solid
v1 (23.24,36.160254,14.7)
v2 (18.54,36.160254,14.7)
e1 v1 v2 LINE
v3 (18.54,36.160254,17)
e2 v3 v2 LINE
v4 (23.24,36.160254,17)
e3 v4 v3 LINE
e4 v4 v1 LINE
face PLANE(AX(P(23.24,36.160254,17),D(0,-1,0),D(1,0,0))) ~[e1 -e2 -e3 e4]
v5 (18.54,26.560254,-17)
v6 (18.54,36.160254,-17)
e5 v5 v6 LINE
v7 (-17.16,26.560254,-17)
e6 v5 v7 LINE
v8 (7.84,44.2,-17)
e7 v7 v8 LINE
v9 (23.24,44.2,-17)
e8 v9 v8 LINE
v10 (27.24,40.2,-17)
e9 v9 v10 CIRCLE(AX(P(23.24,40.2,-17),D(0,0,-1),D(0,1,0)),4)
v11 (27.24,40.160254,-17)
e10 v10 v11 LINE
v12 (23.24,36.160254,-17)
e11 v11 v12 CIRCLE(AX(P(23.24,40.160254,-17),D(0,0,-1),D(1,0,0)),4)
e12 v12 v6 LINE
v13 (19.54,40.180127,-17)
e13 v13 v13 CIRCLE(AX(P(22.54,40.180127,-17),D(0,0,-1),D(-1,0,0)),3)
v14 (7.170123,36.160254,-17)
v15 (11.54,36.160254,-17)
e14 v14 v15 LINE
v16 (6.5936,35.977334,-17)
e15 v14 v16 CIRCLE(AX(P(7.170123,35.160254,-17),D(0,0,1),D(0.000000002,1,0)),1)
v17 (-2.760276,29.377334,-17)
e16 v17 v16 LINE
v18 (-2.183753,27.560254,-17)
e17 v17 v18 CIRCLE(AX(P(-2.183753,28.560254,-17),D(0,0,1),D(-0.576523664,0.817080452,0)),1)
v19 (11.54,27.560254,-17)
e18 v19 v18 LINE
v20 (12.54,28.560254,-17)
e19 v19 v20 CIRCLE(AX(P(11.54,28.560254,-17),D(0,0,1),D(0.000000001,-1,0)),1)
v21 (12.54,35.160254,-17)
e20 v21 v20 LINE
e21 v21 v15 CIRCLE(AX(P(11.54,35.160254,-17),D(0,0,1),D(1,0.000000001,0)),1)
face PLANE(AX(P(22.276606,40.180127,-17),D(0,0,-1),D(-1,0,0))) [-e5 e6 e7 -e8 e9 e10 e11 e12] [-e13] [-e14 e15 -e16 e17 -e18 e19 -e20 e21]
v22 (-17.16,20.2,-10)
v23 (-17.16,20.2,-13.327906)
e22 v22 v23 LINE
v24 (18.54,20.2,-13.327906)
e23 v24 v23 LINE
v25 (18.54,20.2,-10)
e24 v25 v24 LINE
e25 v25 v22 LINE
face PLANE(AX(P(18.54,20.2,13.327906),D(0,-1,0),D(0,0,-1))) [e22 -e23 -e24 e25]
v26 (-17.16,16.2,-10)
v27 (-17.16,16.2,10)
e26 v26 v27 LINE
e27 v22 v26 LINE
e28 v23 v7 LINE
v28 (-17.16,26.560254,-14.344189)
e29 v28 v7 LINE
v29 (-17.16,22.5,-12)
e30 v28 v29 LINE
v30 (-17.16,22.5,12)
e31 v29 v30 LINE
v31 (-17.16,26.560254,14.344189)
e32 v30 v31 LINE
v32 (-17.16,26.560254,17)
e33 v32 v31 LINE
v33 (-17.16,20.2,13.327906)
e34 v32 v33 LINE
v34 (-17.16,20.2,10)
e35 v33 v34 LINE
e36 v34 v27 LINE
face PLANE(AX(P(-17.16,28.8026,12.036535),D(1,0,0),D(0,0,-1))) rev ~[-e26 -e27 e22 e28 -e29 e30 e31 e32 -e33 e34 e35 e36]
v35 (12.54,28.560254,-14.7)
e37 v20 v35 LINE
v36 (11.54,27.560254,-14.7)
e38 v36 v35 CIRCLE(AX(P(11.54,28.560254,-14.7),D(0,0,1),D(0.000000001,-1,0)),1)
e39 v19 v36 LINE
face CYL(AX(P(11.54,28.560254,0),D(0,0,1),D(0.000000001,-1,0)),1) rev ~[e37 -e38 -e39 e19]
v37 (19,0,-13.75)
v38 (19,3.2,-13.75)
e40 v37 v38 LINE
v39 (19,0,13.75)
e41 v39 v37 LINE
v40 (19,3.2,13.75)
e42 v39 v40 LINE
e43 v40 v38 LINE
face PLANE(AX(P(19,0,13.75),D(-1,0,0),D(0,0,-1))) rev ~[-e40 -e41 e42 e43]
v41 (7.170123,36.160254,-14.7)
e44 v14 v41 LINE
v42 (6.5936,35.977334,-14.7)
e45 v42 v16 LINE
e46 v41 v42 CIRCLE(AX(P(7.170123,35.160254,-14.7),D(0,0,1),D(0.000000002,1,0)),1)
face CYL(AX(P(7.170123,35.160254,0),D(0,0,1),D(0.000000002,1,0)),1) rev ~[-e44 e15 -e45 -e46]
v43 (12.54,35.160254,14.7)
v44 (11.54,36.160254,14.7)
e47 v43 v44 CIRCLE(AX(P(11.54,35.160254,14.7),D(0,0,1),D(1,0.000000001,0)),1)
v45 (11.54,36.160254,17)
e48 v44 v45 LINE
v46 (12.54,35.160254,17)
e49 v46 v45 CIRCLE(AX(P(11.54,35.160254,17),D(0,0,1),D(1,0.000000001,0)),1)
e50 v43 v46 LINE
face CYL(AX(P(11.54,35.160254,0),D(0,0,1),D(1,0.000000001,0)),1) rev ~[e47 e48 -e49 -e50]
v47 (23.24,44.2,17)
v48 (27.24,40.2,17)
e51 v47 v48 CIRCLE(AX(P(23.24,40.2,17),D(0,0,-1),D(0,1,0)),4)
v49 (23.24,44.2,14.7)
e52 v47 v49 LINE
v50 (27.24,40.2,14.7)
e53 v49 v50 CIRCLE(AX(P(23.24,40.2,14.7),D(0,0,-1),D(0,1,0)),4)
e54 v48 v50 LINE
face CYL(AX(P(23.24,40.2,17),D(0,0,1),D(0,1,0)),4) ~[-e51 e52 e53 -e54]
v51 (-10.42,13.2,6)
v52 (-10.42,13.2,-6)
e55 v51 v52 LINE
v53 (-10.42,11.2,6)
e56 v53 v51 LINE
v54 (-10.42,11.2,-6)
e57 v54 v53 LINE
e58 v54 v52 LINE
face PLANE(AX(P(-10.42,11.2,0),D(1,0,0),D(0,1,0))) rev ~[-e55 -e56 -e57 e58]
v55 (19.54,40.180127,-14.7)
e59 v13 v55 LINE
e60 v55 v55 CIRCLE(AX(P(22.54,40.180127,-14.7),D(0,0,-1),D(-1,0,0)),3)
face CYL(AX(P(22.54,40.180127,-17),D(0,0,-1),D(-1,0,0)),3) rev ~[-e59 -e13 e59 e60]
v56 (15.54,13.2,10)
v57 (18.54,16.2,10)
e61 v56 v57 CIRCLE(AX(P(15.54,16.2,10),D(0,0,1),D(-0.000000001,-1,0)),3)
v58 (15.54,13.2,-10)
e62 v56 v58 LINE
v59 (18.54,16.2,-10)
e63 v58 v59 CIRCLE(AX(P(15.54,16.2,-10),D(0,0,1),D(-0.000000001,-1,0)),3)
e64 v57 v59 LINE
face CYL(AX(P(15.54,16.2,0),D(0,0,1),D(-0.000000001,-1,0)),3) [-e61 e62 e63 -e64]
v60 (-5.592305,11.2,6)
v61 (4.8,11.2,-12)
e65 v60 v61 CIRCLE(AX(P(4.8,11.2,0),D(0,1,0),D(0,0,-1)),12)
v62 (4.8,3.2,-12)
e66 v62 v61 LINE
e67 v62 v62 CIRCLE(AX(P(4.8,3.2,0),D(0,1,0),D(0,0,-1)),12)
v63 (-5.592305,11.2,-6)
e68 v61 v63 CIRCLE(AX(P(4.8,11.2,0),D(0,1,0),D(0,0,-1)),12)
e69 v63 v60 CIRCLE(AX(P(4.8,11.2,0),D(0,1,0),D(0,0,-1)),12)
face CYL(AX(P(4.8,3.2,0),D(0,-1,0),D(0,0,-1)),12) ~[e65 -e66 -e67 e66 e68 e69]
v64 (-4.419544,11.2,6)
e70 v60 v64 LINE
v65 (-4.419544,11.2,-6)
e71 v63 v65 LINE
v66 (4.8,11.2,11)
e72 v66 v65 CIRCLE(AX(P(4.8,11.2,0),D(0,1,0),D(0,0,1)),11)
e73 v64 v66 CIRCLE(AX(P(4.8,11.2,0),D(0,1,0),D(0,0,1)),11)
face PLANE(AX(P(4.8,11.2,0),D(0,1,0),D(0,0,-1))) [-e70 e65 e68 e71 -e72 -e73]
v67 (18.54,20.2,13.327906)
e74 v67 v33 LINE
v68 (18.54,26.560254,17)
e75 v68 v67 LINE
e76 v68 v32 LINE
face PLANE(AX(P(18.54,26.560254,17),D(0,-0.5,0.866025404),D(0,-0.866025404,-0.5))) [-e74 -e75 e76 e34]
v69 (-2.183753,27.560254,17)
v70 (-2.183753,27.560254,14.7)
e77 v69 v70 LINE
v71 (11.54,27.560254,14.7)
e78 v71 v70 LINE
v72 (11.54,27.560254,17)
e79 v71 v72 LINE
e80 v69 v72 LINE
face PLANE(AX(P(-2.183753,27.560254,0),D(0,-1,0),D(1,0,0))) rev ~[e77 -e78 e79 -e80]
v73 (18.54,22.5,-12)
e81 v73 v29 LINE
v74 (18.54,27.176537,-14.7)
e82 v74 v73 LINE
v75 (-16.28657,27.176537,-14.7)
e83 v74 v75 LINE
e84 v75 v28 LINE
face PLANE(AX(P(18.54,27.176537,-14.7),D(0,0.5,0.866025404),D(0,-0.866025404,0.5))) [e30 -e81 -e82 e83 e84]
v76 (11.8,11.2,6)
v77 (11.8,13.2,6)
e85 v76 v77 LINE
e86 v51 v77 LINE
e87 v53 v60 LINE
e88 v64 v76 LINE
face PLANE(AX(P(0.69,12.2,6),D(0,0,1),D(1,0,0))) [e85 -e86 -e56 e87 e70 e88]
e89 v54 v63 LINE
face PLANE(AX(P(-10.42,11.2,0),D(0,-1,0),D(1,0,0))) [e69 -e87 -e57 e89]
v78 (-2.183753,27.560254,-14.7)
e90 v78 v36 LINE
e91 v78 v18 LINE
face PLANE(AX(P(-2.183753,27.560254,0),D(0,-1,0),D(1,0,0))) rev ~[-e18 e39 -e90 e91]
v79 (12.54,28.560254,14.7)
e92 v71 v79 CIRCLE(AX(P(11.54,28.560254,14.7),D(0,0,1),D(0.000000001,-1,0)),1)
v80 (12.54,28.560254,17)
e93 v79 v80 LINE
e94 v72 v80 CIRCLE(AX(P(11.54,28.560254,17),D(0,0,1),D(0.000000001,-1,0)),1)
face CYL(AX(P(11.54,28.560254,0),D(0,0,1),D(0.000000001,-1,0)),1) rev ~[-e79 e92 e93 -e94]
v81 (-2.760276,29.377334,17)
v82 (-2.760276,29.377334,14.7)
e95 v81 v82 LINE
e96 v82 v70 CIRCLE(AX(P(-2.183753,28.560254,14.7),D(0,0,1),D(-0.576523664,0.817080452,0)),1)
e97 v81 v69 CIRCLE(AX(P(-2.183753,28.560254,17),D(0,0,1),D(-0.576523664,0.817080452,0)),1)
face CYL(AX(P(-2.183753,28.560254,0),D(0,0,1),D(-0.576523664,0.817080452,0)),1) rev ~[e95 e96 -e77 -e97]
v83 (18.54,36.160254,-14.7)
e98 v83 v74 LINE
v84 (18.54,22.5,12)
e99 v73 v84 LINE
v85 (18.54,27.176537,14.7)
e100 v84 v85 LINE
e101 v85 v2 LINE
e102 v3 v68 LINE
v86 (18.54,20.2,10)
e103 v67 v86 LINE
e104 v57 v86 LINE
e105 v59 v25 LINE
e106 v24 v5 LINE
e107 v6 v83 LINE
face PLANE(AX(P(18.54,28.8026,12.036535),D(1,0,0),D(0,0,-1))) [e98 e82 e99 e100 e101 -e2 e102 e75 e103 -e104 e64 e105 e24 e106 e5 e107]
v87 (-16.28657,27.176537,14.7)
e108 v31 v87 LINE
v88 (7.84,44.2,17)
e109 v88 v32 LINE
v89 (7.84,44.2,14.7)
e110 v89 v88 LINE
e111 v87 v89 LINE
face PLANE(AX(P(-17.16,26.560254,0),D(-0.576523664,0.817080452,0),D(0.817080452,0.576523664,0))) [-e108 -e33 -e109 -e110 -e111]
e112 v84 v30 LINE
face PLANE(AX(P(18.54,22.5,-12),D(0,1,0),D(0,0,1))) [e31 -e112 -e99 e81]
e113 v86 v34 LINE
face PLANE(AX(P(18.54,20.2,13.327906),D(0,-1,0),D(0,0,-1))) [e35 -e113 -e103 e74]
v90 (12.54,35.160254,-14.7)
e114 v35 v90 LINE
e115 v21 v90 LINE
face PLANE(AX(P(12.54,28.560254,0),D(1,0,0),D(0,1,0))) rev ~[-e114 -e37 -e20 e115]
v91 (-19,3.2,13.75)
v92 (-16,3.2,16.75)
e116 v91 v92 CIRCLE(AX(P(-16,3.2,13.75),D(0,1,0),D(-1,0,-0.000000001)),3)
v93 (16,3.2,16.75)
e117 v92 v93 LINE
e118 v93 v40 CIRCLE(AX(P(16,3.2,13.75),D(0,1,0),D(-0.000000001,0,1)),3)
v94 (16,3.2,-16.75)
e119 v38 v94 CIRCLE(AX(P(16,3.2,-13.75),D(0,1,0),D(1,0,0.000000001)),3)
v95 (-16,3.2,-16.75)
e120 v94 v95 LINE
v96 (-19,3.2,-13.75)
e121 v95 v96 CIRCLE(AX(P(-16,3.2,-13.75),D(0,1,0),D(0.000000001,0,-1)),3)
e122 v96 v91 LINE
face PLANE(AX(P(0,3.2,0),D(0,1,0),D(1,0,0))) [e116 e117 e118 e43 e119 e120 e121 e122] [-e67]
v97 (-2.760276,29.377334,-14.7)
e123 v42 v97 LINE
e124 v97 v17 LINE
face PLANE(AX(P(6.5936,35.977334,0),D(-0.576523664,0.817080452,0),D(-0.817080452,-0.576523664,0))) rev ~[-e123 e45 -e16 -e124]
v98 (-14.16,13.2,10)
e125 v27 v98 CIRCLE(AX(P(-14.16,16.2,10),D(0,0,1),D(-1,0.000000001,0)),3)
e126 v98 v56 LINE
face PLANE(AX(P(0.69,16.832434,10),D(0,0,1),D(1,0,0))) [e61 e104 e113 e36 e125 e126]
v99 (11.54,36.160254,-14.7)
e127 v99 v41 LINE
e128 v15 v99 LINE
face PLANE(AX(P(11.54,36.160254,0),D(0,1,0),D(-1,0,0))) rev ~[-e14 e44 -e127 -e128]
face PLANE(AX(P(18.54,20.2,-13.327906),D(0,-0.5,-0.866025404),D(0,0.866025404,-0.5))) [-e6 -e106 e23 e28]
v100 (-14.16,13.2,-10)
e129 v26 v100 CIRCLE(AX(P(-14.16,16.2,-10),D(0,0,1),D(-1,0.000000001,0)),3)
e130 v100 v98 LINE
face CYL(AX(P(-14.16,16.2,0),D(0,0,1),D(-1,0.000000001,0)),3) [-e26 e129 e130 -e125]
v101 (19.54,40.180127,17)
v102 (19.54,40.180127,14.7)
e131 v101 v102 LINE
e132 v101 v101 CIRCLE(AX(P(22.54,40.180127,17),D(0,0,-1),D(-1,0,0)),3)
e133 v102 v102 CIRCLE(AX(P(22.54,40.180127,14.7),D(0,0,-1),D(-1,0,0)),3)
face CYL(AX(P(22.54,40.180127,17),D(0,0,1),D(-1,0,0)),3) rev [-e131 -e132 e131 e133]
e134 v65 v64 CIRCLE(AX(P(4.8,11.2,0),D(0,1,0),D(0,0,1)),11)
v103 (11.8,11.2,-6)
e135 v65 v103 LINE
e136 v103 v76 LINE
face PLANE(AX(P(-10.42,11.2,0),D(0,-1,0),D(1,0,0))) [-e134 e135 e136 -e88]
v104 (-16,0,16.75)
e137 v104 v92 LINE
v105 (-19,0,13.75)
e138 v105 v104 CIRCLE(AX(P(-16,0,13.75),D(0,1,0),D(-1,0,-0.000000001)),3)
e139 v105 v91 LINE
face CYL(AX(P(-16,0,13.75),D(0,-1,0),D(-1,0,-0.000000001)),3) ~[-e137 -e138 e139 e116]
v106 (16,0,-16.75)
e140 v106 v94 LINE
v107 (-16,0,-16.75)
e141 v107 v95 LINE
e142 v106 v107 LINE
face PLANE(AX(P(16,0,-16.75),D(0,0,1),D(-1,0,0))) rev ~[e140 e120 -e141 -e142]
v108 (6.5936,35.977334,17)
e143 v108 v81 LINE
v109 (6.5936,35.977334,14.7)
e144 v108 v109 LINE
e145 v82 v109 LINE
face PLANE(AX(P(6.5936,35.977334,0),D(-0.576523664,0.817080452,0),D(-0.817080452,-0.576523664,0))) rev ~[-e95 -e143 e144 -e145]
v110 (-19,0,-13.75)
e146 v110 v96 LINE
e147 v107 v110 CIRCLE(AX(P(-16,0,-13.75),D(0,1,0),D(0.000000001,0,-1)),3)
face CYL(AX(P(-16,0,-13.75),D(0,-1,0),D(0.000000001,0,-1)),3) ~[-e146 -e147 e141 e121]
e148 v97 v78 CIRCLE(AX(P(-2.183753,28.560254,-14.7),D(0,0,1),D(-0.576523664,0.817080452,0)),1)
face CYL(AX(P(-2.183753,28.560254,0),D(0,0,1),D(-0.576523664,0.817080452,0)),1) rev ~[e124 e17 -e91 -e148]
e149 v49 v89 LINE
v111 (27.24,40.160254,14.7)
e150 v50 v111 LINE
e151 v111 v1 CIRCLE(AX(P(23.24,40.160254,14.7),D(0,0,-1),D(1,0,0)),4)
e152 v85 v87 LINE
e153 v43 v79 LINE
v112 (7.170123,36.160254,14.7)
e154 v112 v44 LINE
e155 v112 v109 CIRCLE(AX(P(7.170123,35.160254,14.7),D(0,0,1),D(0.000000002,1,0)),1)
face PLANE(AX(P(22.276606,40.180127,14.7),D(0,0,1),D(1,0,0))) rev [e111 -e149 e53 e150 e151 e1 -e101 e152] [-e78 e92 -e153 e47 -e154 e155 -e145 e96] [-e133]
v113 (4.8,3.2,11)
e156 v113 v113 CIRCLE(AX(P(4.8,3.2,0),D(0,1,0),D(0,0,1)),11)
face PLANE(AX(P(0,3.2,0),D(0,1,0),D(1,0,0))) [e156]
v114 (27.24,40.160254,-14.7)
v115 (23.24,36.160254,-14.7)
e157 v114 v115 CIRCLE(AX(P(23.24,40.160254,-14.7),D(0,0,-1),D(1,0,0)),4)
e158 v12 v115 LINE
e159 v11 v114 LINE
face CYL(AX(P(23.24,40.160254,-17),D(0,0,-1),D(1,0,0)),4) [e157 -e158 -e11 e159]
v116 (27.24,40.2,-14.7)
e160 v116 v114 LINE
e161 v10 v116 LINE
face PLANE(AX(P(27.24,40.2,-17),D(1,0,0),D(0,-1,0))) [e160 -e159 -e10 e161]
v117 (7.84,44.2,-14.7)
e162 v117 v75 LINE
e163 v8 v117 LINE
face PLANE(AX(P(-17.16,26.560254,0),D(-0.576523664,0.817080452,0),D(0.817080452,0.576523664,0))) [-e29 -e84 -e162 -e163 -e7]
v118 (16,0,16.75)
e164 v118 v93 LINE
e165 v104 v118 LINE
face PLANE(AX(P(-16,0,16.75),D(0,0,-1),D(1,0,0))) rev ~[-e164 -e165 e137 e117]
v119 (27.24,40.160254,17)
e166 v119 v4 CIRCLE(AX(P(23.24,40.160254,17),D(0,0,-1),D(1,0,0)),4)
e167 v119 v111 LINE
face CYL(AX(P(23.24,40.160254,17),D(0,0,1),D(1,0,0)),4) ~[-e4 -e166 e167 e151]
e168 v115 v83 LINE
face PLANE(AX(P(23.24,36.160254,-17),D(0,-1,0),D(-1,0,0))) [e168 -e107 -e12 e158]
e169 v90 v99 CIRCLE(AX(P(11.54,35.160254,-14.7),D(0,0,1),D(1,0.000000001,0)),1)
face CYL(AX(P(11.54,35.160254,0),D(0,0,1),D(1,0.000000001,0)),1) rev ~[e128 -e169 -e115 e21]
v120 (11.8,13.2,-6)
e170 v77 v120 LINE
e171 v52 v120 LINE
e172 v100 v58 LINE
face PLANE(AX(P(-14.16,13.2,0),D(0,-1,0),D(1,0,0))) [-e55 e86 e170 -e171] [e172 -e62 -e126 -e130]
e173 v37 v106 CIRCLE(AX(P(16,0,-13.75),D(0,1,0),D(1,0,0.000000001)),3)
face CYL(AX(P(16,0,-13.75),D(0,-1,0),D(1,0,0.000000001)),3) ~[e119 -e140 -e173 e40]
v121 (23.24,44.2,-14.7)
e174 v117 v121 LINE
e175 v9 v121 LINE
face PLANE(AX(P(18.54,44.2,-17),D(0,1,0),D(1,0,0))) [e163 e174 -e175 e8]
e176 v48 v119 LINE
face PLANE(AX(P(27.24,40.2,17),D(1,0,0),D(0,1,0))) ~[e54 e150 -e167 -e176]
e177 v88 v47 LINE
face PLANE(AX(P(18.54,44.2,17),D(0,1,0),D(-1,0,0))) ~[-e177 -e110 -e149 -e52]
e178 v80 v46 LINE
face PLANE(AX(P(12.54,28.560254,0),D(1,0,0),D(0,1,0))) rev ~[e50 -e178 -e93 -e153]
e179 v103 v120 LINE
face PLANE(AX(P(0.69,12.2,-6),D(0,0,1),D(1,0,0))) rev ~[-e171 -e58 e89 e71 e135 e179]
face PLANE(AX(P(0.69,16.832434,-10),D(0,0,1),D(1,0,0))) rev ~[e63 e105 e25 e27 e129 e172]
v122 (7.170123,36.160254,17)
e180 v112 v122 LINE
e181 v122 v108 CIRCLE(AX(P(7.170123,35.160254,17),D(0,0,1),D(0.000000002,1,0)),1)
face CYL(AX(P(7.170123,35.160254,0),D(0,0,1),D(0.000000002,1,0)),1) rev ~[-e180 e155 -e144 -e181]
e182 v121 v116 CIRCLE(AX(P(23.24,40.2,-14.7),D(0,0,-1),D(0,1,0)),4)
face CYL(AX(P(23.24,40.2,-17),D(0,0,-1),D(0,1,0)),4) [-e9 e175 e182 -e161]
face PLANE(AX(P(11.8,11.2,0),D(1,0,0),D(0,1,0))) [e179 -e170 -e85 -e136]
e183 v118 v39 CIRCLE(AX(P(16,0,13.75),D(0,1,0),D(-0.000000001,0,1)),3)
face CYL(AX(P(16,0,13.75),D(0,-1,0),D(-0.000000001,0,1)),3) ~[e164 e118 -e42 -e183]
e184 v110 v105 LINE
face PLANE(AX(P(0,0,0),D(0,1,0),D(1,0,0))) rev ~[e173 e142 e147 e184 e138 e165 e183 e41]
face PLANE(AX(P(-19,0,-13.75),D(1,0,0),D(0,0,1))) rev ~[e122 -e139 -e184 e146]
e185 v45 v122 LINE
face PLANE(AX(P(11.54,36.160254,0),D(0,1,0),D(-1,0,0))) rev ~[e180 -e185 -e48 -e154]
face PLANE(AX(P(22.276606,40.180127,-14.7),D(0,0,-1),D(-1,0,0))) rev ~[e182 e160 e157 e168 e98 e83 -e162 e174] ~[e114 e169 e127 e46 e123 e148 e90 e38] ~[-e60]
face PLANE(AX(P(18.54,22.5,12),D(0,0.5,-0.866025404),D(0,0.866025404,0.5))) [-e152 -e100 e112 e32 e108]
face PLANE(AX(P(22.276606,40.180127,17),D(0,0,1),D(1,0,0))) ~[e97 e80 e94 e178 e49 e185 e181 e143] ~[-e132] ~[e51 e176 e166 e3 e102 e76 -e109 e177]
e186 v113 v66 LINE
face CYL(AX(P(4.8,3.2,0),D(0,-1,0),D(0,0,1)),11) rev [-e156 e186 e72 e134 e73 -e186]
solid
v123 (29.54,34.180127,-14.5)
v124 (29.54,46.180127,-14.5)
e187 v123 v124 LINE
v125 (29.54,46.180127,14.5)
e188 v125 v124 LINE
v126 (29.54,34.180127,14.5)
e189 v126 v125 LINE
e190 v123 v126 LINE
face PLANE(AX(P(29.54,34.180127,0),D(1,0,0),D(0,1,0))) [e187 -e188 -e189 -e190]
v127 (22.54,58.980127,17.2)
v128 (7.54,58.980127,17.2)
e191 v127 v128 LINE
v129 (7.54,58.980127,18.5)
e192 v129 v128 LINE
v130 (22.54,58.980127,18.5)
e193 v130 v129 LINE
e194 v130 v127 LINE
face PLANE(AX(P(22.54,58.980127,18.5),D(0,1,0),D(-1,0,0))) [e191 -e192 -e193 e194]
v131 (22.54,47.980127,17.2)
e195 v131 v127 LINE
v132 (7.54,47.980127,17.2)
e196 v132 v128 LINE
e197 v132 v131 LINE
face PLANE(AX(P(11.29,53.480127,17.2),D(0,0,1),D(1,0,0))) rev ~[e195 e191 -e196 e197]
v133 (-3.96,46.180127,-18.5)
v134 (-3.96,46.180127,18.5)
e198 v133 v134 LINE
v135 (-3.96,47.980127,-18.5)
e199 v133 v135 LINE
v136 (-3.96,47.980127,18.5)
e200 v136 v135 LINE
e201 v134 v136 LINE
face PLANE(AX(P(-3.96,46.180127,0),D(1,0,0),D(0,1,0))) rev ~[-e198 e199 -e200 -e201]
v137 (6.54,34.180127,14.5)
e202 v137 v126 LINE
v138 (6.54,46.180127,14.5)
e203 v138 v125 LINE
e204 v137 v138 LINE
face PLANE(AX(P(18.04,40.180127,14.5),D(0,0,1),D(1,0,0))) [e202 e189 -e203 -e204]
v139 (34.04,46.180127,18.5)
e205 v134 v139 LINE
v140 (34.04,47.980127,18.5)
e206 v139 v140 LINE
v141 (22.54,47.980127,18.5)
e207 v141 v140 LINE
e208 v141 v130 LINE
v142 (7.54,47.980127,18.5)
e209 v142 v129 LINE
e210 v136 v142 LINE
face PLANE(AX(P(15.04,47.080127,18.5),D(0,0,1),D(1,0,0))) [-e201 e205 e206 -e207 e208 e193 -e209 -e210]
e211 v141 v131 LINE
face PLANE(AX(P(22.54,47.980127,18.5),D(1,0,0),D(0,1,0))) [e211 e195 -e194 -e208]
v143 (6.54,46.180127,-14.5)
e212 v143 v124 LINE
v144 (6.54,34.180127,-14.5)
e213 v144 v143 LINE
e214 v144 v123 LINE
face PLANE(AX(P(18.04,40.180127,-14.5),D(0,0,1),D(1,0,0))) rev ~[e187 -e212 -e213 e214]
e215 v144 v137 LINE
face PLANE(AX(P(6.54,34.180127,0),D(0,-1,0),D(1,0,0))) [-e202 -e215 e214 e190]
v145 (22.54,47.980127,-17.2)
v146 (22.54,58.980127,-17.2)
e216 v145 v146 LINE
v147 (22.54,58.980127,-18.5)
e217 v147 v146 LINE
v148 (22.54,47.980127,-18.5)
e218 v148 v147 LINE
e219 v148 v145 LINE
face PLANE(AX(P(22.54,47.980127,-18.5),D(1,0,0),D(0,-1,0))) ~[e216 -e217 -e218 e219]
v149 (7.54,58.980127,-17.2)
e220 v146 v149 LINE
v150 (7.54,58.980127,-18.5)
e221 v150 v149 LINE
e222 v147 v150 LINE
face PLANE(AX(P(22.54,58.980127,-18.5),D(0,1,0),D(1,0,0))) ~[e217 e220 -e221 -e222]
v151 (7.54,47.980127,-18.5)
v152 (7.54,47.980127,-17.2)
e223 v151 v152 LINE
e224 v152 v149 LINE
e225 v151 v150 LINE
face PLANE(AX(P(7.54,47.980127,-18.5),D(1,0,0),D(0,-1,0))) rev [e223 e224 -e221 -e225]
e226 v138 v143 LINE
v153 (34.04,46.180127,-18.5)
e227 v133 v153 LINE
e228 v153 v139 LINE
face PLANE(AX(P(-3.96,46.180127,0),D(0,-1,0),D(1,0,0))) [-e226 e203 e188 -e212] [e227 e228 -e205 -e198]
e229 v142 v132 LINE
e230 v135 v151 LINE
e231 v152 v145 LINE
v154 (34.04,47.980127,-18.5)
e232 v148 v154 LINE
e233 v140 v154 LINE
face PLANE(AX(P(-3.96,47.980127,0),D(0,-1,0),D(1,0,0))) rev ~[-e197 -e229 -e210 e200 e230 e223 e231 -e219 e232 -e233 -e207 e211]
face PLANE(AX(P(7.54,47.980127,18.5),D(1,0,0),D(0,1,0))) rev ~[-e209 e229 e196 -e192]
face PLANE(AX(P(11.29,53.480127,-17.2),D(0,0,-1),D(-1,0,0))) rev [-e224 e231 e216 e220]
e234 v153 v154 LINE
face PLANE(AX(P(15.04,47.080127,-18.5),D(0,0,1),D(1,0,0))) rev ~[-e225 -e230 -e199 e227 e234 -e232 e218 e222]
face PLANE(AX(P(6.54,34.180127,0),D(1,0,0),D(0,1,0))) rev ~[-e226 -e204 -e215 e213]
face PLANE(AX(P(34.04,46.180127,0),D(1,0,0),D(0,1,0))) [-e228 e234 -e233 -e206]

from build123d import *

# Parameters (mm, degrees)
SALIENTE_EXTRUIR1_DEPTH = 3.2
CROQUIS2_R              = 12
CROQUIS2_R_2            = 11
SALIENTE_EXTRUIR2_DEPTH = 8
CROQUIS3_W              = 22.22
CROQUIS3_H              = 2
SALIENTE_EXTRUIR3_DEPTH = 6
SALIENTE_EXTRUIR4_DEPTH = 10
SALIENTE_EXTRUIR5_DEPTH = 35.7
CORTAR_EXTRUIR1_DEPTH   = 45
CROQUIS7_R              = 3
SALIENTE_EXTRUIR6_DEPTH = 2.3
CROQUIS8_W              = 23
CROQUIS8_H              = 12
SALIENTE_EXTRUIR7_DEPTH = 14.5
CROQUIS9_W              = 38
CROQUIS9_H              = 1.8
SALIENTE_EXTRUIR8_DEPTH = 18.5
CROQUIS10_W             = 7.5
CROQUIS10_H             = 11
SALIENTE_EXTRUIR9_DEPTH = 1.3


with BuildPart() as part:
    # Croquis1 → Saliente-Extruir1 (new body)
    with BuildSketch(Plane(origin=(0, 0, 0), x_dir=(1, 0, 0), z_dir=(0, 1, 0))):
        with BuildLine():
            Line((-16, -16.75), (16, -16.75))
            ThreePointArc((16, -16.75), (18.121320344, -15.871320344), (19, -13.75))
            Line((19, -13.75), (19, 13.75))
            ThreePointArc((19, 13.75), (18.121320344, 15.871320344), (16, 16.75))
            Line((16, 16.75), (-16, 16.75))
            ThreePointArc((-16, 16.75), (-18.121320344, 15.871320344), (-19, 13.75))
            Line((-19, 13.75), (-19, -13.75))
            ThreePointArc((-19, -13.75), (-18.121320344, -15.871320344), (-16, -16.75))
        make_face()
    extrude(amount=SALIENTE_EXTRUIR1_DEPTH)

    # Croquis2 → Saliente-Extruir2 (add)
    with BuildSketch(Plane(origin=(0, 3.2, 0), x_dir=(1, 0, 0), z_dir=(0, 1, 0))):
        with Locations(Location((4.8, 0, 0), (0, 0, 90))):
            Circle(CROQUIS2_R)
        with Locations(Location((4.8, 0, 0), (0, 0, 270))):
            Circle(CROQUIS2_R_2, mode=Mode.SUBTRACT)
    extrude(amount=SALIENTE_EXTRUIR2_DEPTH)

    # Croquis3 → Saliente-Extruir3 (add, symmetric)
    with BuildSketch(Plane.XY):
        with Locations((0.69, 12.2)):
            Rectangle(CROQUIS3_W, CROQUIS3_H)
    extrude(amount=SALIENTE_EXTRUIR3_DEPTH, both=True)

    # Croquis4 → Saliente-Extruir4 (add, symmetric)
    with BuildSketch(Plane.XY):
        with BuildLine():
            Line((18.54, 20.2), (-17.16, 20.2))
            Line((-17.16, 20.2), (-17.16, 16.2))
            ThreePointArc((-17.16, 16.2), (-16.281320344, 14.078679656), (-14.16, 13.2))
            Line((-14.16, 13.2), (15.54, 13.2))
            ThreePointArc((15.54, 13.2), (17.661320344, 14.078679656), (18.54, 16.2))
            Line((18.54, 16.2), (18.54, 20.2))
        make_face()
    extrude(amount=SALIENTE_EXTRUIR4_DEPTH, both=True)

    # Croquis5 → Saliente-Extruir5 (add)
    with BuildSketch(Plane(origin=(18.54, 0, 0), x_dir=(0, 0, -1), z_dir=(1, 0, 0))):
        Polygon((0, 20.2), (0, 22.5), (-12, 22.5), (-14.7, 27.17653718), (-14.7, 44.2), (-17, 44.2), (-17, 26.560254038), (-13.327905619, 20.2), (-10, 20.2), align=None)
        Polygon((12, 22.5), (0, 22.5), (0, 20.2), (10, 20.2), (13.327905619, 20.2), (17, 26.560254038), (17, 44.2), (14.7, 44.2), (14.7, 27.17653718), align=None)
    extrude(amount=-SALIENTE_EXTRUIR5_DEPTH)

    # Croquis6 → Cortar-Extruir1 (cut, symmetric)
    with BuildSketch(Plane.XY):
        Polygon((-17.16, 26.560254038), (7.84, 44.2), (-17.16, 44.2), align=None)
        with BuildLine():
            Line((-2.18375281, 27.560254038), (11.54, 27.560254038))
            ThreePointArc((11.54, 27.560254038), (12.247106781, 27.853147257), (12.54, 28.560254038))
            Line((12.54, 28.560254038), (12.54, 35.160254038))
            ThreePointArc((12.54, 35.160254038), (12.247106781, 35.867360819), (11.54, 36.160254038))
            Line((11.54, 36.160254038), (7.170123394, 36.160254038))
            ThreePointArc((7.170123394, 36.160254038), (6.867700223, 36.113427803), (6.59359973, 35.97733449))
            Line((6.59359973, 35.97733449), (-2.760276474, 29.37733449))
            ThreePointArc((-2.760276474, 29.37733449), (-3.136926575, 28.257830867), (-2.18375281, 27.560254038))
        make_face()
    extrude(amount=CORTAR_EXTRUIR1_DEPTH, both=True, mode=Mode.SUBTRACT)

    # Croquis7 → Saliente-Extruir6 (add)
    with BuildSketch(Plane(origin=(0, 0, -17), x_dir=(-1, 0, 0), z_dir=(0, 0, -1))):
        with BuildLine():
            Line((-18.54, 44.2), (-23.24, 44.2))
            ThreePointArc((-23.24, 44.2), (-26.068427125, 43.028427125), (-27.24, 40.2))
            Line((-27.24, 40.2), (-27.24, 40.160254038))
            ThreePointArc((-27.24, 40.160254038), (-26.068427125, 37.331826913), (-23.24, 36.160254038))
            Line((-23.24, 36.160254038), (-18.54, 36.160254038))
            Line((-18.54, 36.160254038), (-18.54, 44.2))
        make_face()
        with Locations((-22.54, 40.180127019)):
            Circle(CROQUIS7_R, mode=Mode.SUBTRACT)
    saliente_extruir6 = extrude(amount=-SALIENTE_EXTRUIR6_DEPTH)

    # Simetría1: Saliente-Extruir6 across plane
    add(saliente_extruir6.mirror(Plane.XY))


with BuildPart() as body_2:
    # Croquis8 → Saliente-Extruir7 (new, symmetric)
    with BuildSketch(Plane.XY):
        with Locations((18.04, 40.180127019)):
            Rectangle(CROQUIS8_W, CROQUIS8_H)
    extrude(amount=SALIENTE_EXTRUIR7_DEPTH, both=True)

    # Croquis9 → Saliente-Extruir8 (add, symmetric)
    with BuildSketch(Plane.XY):
        with Locations((15.04, 47.080127019)):
            Rectangle(CROQUIS9_W, CROQUIS9_H)
    extrude(amount=SALIENTE_EXTRUIR8_DEPTH, both=True)

    # Croquis10 → Saliente-Extruir9 (add)
    with BuildSketch(Plane.XY.offset(18.5)):
        with Locations((11.29, 53.480127019)):
            Rectangle(CROQUIS10_W, CROQUIS10_H)
        with Locations((18.79, 53.480127019)):
            Rectangle(CROQUIS10_W, CROQUIS10_H)
    saliente_extruir9 = extrude(amount=-SALIENTE_EXTRUIR9_DEPTH)

    # Simetría2: Saliente-Extruir9 across plane
    add(saliente_extruir9.mirror(Plane.XY))


solid = Compound([part.part, body_2.part])
